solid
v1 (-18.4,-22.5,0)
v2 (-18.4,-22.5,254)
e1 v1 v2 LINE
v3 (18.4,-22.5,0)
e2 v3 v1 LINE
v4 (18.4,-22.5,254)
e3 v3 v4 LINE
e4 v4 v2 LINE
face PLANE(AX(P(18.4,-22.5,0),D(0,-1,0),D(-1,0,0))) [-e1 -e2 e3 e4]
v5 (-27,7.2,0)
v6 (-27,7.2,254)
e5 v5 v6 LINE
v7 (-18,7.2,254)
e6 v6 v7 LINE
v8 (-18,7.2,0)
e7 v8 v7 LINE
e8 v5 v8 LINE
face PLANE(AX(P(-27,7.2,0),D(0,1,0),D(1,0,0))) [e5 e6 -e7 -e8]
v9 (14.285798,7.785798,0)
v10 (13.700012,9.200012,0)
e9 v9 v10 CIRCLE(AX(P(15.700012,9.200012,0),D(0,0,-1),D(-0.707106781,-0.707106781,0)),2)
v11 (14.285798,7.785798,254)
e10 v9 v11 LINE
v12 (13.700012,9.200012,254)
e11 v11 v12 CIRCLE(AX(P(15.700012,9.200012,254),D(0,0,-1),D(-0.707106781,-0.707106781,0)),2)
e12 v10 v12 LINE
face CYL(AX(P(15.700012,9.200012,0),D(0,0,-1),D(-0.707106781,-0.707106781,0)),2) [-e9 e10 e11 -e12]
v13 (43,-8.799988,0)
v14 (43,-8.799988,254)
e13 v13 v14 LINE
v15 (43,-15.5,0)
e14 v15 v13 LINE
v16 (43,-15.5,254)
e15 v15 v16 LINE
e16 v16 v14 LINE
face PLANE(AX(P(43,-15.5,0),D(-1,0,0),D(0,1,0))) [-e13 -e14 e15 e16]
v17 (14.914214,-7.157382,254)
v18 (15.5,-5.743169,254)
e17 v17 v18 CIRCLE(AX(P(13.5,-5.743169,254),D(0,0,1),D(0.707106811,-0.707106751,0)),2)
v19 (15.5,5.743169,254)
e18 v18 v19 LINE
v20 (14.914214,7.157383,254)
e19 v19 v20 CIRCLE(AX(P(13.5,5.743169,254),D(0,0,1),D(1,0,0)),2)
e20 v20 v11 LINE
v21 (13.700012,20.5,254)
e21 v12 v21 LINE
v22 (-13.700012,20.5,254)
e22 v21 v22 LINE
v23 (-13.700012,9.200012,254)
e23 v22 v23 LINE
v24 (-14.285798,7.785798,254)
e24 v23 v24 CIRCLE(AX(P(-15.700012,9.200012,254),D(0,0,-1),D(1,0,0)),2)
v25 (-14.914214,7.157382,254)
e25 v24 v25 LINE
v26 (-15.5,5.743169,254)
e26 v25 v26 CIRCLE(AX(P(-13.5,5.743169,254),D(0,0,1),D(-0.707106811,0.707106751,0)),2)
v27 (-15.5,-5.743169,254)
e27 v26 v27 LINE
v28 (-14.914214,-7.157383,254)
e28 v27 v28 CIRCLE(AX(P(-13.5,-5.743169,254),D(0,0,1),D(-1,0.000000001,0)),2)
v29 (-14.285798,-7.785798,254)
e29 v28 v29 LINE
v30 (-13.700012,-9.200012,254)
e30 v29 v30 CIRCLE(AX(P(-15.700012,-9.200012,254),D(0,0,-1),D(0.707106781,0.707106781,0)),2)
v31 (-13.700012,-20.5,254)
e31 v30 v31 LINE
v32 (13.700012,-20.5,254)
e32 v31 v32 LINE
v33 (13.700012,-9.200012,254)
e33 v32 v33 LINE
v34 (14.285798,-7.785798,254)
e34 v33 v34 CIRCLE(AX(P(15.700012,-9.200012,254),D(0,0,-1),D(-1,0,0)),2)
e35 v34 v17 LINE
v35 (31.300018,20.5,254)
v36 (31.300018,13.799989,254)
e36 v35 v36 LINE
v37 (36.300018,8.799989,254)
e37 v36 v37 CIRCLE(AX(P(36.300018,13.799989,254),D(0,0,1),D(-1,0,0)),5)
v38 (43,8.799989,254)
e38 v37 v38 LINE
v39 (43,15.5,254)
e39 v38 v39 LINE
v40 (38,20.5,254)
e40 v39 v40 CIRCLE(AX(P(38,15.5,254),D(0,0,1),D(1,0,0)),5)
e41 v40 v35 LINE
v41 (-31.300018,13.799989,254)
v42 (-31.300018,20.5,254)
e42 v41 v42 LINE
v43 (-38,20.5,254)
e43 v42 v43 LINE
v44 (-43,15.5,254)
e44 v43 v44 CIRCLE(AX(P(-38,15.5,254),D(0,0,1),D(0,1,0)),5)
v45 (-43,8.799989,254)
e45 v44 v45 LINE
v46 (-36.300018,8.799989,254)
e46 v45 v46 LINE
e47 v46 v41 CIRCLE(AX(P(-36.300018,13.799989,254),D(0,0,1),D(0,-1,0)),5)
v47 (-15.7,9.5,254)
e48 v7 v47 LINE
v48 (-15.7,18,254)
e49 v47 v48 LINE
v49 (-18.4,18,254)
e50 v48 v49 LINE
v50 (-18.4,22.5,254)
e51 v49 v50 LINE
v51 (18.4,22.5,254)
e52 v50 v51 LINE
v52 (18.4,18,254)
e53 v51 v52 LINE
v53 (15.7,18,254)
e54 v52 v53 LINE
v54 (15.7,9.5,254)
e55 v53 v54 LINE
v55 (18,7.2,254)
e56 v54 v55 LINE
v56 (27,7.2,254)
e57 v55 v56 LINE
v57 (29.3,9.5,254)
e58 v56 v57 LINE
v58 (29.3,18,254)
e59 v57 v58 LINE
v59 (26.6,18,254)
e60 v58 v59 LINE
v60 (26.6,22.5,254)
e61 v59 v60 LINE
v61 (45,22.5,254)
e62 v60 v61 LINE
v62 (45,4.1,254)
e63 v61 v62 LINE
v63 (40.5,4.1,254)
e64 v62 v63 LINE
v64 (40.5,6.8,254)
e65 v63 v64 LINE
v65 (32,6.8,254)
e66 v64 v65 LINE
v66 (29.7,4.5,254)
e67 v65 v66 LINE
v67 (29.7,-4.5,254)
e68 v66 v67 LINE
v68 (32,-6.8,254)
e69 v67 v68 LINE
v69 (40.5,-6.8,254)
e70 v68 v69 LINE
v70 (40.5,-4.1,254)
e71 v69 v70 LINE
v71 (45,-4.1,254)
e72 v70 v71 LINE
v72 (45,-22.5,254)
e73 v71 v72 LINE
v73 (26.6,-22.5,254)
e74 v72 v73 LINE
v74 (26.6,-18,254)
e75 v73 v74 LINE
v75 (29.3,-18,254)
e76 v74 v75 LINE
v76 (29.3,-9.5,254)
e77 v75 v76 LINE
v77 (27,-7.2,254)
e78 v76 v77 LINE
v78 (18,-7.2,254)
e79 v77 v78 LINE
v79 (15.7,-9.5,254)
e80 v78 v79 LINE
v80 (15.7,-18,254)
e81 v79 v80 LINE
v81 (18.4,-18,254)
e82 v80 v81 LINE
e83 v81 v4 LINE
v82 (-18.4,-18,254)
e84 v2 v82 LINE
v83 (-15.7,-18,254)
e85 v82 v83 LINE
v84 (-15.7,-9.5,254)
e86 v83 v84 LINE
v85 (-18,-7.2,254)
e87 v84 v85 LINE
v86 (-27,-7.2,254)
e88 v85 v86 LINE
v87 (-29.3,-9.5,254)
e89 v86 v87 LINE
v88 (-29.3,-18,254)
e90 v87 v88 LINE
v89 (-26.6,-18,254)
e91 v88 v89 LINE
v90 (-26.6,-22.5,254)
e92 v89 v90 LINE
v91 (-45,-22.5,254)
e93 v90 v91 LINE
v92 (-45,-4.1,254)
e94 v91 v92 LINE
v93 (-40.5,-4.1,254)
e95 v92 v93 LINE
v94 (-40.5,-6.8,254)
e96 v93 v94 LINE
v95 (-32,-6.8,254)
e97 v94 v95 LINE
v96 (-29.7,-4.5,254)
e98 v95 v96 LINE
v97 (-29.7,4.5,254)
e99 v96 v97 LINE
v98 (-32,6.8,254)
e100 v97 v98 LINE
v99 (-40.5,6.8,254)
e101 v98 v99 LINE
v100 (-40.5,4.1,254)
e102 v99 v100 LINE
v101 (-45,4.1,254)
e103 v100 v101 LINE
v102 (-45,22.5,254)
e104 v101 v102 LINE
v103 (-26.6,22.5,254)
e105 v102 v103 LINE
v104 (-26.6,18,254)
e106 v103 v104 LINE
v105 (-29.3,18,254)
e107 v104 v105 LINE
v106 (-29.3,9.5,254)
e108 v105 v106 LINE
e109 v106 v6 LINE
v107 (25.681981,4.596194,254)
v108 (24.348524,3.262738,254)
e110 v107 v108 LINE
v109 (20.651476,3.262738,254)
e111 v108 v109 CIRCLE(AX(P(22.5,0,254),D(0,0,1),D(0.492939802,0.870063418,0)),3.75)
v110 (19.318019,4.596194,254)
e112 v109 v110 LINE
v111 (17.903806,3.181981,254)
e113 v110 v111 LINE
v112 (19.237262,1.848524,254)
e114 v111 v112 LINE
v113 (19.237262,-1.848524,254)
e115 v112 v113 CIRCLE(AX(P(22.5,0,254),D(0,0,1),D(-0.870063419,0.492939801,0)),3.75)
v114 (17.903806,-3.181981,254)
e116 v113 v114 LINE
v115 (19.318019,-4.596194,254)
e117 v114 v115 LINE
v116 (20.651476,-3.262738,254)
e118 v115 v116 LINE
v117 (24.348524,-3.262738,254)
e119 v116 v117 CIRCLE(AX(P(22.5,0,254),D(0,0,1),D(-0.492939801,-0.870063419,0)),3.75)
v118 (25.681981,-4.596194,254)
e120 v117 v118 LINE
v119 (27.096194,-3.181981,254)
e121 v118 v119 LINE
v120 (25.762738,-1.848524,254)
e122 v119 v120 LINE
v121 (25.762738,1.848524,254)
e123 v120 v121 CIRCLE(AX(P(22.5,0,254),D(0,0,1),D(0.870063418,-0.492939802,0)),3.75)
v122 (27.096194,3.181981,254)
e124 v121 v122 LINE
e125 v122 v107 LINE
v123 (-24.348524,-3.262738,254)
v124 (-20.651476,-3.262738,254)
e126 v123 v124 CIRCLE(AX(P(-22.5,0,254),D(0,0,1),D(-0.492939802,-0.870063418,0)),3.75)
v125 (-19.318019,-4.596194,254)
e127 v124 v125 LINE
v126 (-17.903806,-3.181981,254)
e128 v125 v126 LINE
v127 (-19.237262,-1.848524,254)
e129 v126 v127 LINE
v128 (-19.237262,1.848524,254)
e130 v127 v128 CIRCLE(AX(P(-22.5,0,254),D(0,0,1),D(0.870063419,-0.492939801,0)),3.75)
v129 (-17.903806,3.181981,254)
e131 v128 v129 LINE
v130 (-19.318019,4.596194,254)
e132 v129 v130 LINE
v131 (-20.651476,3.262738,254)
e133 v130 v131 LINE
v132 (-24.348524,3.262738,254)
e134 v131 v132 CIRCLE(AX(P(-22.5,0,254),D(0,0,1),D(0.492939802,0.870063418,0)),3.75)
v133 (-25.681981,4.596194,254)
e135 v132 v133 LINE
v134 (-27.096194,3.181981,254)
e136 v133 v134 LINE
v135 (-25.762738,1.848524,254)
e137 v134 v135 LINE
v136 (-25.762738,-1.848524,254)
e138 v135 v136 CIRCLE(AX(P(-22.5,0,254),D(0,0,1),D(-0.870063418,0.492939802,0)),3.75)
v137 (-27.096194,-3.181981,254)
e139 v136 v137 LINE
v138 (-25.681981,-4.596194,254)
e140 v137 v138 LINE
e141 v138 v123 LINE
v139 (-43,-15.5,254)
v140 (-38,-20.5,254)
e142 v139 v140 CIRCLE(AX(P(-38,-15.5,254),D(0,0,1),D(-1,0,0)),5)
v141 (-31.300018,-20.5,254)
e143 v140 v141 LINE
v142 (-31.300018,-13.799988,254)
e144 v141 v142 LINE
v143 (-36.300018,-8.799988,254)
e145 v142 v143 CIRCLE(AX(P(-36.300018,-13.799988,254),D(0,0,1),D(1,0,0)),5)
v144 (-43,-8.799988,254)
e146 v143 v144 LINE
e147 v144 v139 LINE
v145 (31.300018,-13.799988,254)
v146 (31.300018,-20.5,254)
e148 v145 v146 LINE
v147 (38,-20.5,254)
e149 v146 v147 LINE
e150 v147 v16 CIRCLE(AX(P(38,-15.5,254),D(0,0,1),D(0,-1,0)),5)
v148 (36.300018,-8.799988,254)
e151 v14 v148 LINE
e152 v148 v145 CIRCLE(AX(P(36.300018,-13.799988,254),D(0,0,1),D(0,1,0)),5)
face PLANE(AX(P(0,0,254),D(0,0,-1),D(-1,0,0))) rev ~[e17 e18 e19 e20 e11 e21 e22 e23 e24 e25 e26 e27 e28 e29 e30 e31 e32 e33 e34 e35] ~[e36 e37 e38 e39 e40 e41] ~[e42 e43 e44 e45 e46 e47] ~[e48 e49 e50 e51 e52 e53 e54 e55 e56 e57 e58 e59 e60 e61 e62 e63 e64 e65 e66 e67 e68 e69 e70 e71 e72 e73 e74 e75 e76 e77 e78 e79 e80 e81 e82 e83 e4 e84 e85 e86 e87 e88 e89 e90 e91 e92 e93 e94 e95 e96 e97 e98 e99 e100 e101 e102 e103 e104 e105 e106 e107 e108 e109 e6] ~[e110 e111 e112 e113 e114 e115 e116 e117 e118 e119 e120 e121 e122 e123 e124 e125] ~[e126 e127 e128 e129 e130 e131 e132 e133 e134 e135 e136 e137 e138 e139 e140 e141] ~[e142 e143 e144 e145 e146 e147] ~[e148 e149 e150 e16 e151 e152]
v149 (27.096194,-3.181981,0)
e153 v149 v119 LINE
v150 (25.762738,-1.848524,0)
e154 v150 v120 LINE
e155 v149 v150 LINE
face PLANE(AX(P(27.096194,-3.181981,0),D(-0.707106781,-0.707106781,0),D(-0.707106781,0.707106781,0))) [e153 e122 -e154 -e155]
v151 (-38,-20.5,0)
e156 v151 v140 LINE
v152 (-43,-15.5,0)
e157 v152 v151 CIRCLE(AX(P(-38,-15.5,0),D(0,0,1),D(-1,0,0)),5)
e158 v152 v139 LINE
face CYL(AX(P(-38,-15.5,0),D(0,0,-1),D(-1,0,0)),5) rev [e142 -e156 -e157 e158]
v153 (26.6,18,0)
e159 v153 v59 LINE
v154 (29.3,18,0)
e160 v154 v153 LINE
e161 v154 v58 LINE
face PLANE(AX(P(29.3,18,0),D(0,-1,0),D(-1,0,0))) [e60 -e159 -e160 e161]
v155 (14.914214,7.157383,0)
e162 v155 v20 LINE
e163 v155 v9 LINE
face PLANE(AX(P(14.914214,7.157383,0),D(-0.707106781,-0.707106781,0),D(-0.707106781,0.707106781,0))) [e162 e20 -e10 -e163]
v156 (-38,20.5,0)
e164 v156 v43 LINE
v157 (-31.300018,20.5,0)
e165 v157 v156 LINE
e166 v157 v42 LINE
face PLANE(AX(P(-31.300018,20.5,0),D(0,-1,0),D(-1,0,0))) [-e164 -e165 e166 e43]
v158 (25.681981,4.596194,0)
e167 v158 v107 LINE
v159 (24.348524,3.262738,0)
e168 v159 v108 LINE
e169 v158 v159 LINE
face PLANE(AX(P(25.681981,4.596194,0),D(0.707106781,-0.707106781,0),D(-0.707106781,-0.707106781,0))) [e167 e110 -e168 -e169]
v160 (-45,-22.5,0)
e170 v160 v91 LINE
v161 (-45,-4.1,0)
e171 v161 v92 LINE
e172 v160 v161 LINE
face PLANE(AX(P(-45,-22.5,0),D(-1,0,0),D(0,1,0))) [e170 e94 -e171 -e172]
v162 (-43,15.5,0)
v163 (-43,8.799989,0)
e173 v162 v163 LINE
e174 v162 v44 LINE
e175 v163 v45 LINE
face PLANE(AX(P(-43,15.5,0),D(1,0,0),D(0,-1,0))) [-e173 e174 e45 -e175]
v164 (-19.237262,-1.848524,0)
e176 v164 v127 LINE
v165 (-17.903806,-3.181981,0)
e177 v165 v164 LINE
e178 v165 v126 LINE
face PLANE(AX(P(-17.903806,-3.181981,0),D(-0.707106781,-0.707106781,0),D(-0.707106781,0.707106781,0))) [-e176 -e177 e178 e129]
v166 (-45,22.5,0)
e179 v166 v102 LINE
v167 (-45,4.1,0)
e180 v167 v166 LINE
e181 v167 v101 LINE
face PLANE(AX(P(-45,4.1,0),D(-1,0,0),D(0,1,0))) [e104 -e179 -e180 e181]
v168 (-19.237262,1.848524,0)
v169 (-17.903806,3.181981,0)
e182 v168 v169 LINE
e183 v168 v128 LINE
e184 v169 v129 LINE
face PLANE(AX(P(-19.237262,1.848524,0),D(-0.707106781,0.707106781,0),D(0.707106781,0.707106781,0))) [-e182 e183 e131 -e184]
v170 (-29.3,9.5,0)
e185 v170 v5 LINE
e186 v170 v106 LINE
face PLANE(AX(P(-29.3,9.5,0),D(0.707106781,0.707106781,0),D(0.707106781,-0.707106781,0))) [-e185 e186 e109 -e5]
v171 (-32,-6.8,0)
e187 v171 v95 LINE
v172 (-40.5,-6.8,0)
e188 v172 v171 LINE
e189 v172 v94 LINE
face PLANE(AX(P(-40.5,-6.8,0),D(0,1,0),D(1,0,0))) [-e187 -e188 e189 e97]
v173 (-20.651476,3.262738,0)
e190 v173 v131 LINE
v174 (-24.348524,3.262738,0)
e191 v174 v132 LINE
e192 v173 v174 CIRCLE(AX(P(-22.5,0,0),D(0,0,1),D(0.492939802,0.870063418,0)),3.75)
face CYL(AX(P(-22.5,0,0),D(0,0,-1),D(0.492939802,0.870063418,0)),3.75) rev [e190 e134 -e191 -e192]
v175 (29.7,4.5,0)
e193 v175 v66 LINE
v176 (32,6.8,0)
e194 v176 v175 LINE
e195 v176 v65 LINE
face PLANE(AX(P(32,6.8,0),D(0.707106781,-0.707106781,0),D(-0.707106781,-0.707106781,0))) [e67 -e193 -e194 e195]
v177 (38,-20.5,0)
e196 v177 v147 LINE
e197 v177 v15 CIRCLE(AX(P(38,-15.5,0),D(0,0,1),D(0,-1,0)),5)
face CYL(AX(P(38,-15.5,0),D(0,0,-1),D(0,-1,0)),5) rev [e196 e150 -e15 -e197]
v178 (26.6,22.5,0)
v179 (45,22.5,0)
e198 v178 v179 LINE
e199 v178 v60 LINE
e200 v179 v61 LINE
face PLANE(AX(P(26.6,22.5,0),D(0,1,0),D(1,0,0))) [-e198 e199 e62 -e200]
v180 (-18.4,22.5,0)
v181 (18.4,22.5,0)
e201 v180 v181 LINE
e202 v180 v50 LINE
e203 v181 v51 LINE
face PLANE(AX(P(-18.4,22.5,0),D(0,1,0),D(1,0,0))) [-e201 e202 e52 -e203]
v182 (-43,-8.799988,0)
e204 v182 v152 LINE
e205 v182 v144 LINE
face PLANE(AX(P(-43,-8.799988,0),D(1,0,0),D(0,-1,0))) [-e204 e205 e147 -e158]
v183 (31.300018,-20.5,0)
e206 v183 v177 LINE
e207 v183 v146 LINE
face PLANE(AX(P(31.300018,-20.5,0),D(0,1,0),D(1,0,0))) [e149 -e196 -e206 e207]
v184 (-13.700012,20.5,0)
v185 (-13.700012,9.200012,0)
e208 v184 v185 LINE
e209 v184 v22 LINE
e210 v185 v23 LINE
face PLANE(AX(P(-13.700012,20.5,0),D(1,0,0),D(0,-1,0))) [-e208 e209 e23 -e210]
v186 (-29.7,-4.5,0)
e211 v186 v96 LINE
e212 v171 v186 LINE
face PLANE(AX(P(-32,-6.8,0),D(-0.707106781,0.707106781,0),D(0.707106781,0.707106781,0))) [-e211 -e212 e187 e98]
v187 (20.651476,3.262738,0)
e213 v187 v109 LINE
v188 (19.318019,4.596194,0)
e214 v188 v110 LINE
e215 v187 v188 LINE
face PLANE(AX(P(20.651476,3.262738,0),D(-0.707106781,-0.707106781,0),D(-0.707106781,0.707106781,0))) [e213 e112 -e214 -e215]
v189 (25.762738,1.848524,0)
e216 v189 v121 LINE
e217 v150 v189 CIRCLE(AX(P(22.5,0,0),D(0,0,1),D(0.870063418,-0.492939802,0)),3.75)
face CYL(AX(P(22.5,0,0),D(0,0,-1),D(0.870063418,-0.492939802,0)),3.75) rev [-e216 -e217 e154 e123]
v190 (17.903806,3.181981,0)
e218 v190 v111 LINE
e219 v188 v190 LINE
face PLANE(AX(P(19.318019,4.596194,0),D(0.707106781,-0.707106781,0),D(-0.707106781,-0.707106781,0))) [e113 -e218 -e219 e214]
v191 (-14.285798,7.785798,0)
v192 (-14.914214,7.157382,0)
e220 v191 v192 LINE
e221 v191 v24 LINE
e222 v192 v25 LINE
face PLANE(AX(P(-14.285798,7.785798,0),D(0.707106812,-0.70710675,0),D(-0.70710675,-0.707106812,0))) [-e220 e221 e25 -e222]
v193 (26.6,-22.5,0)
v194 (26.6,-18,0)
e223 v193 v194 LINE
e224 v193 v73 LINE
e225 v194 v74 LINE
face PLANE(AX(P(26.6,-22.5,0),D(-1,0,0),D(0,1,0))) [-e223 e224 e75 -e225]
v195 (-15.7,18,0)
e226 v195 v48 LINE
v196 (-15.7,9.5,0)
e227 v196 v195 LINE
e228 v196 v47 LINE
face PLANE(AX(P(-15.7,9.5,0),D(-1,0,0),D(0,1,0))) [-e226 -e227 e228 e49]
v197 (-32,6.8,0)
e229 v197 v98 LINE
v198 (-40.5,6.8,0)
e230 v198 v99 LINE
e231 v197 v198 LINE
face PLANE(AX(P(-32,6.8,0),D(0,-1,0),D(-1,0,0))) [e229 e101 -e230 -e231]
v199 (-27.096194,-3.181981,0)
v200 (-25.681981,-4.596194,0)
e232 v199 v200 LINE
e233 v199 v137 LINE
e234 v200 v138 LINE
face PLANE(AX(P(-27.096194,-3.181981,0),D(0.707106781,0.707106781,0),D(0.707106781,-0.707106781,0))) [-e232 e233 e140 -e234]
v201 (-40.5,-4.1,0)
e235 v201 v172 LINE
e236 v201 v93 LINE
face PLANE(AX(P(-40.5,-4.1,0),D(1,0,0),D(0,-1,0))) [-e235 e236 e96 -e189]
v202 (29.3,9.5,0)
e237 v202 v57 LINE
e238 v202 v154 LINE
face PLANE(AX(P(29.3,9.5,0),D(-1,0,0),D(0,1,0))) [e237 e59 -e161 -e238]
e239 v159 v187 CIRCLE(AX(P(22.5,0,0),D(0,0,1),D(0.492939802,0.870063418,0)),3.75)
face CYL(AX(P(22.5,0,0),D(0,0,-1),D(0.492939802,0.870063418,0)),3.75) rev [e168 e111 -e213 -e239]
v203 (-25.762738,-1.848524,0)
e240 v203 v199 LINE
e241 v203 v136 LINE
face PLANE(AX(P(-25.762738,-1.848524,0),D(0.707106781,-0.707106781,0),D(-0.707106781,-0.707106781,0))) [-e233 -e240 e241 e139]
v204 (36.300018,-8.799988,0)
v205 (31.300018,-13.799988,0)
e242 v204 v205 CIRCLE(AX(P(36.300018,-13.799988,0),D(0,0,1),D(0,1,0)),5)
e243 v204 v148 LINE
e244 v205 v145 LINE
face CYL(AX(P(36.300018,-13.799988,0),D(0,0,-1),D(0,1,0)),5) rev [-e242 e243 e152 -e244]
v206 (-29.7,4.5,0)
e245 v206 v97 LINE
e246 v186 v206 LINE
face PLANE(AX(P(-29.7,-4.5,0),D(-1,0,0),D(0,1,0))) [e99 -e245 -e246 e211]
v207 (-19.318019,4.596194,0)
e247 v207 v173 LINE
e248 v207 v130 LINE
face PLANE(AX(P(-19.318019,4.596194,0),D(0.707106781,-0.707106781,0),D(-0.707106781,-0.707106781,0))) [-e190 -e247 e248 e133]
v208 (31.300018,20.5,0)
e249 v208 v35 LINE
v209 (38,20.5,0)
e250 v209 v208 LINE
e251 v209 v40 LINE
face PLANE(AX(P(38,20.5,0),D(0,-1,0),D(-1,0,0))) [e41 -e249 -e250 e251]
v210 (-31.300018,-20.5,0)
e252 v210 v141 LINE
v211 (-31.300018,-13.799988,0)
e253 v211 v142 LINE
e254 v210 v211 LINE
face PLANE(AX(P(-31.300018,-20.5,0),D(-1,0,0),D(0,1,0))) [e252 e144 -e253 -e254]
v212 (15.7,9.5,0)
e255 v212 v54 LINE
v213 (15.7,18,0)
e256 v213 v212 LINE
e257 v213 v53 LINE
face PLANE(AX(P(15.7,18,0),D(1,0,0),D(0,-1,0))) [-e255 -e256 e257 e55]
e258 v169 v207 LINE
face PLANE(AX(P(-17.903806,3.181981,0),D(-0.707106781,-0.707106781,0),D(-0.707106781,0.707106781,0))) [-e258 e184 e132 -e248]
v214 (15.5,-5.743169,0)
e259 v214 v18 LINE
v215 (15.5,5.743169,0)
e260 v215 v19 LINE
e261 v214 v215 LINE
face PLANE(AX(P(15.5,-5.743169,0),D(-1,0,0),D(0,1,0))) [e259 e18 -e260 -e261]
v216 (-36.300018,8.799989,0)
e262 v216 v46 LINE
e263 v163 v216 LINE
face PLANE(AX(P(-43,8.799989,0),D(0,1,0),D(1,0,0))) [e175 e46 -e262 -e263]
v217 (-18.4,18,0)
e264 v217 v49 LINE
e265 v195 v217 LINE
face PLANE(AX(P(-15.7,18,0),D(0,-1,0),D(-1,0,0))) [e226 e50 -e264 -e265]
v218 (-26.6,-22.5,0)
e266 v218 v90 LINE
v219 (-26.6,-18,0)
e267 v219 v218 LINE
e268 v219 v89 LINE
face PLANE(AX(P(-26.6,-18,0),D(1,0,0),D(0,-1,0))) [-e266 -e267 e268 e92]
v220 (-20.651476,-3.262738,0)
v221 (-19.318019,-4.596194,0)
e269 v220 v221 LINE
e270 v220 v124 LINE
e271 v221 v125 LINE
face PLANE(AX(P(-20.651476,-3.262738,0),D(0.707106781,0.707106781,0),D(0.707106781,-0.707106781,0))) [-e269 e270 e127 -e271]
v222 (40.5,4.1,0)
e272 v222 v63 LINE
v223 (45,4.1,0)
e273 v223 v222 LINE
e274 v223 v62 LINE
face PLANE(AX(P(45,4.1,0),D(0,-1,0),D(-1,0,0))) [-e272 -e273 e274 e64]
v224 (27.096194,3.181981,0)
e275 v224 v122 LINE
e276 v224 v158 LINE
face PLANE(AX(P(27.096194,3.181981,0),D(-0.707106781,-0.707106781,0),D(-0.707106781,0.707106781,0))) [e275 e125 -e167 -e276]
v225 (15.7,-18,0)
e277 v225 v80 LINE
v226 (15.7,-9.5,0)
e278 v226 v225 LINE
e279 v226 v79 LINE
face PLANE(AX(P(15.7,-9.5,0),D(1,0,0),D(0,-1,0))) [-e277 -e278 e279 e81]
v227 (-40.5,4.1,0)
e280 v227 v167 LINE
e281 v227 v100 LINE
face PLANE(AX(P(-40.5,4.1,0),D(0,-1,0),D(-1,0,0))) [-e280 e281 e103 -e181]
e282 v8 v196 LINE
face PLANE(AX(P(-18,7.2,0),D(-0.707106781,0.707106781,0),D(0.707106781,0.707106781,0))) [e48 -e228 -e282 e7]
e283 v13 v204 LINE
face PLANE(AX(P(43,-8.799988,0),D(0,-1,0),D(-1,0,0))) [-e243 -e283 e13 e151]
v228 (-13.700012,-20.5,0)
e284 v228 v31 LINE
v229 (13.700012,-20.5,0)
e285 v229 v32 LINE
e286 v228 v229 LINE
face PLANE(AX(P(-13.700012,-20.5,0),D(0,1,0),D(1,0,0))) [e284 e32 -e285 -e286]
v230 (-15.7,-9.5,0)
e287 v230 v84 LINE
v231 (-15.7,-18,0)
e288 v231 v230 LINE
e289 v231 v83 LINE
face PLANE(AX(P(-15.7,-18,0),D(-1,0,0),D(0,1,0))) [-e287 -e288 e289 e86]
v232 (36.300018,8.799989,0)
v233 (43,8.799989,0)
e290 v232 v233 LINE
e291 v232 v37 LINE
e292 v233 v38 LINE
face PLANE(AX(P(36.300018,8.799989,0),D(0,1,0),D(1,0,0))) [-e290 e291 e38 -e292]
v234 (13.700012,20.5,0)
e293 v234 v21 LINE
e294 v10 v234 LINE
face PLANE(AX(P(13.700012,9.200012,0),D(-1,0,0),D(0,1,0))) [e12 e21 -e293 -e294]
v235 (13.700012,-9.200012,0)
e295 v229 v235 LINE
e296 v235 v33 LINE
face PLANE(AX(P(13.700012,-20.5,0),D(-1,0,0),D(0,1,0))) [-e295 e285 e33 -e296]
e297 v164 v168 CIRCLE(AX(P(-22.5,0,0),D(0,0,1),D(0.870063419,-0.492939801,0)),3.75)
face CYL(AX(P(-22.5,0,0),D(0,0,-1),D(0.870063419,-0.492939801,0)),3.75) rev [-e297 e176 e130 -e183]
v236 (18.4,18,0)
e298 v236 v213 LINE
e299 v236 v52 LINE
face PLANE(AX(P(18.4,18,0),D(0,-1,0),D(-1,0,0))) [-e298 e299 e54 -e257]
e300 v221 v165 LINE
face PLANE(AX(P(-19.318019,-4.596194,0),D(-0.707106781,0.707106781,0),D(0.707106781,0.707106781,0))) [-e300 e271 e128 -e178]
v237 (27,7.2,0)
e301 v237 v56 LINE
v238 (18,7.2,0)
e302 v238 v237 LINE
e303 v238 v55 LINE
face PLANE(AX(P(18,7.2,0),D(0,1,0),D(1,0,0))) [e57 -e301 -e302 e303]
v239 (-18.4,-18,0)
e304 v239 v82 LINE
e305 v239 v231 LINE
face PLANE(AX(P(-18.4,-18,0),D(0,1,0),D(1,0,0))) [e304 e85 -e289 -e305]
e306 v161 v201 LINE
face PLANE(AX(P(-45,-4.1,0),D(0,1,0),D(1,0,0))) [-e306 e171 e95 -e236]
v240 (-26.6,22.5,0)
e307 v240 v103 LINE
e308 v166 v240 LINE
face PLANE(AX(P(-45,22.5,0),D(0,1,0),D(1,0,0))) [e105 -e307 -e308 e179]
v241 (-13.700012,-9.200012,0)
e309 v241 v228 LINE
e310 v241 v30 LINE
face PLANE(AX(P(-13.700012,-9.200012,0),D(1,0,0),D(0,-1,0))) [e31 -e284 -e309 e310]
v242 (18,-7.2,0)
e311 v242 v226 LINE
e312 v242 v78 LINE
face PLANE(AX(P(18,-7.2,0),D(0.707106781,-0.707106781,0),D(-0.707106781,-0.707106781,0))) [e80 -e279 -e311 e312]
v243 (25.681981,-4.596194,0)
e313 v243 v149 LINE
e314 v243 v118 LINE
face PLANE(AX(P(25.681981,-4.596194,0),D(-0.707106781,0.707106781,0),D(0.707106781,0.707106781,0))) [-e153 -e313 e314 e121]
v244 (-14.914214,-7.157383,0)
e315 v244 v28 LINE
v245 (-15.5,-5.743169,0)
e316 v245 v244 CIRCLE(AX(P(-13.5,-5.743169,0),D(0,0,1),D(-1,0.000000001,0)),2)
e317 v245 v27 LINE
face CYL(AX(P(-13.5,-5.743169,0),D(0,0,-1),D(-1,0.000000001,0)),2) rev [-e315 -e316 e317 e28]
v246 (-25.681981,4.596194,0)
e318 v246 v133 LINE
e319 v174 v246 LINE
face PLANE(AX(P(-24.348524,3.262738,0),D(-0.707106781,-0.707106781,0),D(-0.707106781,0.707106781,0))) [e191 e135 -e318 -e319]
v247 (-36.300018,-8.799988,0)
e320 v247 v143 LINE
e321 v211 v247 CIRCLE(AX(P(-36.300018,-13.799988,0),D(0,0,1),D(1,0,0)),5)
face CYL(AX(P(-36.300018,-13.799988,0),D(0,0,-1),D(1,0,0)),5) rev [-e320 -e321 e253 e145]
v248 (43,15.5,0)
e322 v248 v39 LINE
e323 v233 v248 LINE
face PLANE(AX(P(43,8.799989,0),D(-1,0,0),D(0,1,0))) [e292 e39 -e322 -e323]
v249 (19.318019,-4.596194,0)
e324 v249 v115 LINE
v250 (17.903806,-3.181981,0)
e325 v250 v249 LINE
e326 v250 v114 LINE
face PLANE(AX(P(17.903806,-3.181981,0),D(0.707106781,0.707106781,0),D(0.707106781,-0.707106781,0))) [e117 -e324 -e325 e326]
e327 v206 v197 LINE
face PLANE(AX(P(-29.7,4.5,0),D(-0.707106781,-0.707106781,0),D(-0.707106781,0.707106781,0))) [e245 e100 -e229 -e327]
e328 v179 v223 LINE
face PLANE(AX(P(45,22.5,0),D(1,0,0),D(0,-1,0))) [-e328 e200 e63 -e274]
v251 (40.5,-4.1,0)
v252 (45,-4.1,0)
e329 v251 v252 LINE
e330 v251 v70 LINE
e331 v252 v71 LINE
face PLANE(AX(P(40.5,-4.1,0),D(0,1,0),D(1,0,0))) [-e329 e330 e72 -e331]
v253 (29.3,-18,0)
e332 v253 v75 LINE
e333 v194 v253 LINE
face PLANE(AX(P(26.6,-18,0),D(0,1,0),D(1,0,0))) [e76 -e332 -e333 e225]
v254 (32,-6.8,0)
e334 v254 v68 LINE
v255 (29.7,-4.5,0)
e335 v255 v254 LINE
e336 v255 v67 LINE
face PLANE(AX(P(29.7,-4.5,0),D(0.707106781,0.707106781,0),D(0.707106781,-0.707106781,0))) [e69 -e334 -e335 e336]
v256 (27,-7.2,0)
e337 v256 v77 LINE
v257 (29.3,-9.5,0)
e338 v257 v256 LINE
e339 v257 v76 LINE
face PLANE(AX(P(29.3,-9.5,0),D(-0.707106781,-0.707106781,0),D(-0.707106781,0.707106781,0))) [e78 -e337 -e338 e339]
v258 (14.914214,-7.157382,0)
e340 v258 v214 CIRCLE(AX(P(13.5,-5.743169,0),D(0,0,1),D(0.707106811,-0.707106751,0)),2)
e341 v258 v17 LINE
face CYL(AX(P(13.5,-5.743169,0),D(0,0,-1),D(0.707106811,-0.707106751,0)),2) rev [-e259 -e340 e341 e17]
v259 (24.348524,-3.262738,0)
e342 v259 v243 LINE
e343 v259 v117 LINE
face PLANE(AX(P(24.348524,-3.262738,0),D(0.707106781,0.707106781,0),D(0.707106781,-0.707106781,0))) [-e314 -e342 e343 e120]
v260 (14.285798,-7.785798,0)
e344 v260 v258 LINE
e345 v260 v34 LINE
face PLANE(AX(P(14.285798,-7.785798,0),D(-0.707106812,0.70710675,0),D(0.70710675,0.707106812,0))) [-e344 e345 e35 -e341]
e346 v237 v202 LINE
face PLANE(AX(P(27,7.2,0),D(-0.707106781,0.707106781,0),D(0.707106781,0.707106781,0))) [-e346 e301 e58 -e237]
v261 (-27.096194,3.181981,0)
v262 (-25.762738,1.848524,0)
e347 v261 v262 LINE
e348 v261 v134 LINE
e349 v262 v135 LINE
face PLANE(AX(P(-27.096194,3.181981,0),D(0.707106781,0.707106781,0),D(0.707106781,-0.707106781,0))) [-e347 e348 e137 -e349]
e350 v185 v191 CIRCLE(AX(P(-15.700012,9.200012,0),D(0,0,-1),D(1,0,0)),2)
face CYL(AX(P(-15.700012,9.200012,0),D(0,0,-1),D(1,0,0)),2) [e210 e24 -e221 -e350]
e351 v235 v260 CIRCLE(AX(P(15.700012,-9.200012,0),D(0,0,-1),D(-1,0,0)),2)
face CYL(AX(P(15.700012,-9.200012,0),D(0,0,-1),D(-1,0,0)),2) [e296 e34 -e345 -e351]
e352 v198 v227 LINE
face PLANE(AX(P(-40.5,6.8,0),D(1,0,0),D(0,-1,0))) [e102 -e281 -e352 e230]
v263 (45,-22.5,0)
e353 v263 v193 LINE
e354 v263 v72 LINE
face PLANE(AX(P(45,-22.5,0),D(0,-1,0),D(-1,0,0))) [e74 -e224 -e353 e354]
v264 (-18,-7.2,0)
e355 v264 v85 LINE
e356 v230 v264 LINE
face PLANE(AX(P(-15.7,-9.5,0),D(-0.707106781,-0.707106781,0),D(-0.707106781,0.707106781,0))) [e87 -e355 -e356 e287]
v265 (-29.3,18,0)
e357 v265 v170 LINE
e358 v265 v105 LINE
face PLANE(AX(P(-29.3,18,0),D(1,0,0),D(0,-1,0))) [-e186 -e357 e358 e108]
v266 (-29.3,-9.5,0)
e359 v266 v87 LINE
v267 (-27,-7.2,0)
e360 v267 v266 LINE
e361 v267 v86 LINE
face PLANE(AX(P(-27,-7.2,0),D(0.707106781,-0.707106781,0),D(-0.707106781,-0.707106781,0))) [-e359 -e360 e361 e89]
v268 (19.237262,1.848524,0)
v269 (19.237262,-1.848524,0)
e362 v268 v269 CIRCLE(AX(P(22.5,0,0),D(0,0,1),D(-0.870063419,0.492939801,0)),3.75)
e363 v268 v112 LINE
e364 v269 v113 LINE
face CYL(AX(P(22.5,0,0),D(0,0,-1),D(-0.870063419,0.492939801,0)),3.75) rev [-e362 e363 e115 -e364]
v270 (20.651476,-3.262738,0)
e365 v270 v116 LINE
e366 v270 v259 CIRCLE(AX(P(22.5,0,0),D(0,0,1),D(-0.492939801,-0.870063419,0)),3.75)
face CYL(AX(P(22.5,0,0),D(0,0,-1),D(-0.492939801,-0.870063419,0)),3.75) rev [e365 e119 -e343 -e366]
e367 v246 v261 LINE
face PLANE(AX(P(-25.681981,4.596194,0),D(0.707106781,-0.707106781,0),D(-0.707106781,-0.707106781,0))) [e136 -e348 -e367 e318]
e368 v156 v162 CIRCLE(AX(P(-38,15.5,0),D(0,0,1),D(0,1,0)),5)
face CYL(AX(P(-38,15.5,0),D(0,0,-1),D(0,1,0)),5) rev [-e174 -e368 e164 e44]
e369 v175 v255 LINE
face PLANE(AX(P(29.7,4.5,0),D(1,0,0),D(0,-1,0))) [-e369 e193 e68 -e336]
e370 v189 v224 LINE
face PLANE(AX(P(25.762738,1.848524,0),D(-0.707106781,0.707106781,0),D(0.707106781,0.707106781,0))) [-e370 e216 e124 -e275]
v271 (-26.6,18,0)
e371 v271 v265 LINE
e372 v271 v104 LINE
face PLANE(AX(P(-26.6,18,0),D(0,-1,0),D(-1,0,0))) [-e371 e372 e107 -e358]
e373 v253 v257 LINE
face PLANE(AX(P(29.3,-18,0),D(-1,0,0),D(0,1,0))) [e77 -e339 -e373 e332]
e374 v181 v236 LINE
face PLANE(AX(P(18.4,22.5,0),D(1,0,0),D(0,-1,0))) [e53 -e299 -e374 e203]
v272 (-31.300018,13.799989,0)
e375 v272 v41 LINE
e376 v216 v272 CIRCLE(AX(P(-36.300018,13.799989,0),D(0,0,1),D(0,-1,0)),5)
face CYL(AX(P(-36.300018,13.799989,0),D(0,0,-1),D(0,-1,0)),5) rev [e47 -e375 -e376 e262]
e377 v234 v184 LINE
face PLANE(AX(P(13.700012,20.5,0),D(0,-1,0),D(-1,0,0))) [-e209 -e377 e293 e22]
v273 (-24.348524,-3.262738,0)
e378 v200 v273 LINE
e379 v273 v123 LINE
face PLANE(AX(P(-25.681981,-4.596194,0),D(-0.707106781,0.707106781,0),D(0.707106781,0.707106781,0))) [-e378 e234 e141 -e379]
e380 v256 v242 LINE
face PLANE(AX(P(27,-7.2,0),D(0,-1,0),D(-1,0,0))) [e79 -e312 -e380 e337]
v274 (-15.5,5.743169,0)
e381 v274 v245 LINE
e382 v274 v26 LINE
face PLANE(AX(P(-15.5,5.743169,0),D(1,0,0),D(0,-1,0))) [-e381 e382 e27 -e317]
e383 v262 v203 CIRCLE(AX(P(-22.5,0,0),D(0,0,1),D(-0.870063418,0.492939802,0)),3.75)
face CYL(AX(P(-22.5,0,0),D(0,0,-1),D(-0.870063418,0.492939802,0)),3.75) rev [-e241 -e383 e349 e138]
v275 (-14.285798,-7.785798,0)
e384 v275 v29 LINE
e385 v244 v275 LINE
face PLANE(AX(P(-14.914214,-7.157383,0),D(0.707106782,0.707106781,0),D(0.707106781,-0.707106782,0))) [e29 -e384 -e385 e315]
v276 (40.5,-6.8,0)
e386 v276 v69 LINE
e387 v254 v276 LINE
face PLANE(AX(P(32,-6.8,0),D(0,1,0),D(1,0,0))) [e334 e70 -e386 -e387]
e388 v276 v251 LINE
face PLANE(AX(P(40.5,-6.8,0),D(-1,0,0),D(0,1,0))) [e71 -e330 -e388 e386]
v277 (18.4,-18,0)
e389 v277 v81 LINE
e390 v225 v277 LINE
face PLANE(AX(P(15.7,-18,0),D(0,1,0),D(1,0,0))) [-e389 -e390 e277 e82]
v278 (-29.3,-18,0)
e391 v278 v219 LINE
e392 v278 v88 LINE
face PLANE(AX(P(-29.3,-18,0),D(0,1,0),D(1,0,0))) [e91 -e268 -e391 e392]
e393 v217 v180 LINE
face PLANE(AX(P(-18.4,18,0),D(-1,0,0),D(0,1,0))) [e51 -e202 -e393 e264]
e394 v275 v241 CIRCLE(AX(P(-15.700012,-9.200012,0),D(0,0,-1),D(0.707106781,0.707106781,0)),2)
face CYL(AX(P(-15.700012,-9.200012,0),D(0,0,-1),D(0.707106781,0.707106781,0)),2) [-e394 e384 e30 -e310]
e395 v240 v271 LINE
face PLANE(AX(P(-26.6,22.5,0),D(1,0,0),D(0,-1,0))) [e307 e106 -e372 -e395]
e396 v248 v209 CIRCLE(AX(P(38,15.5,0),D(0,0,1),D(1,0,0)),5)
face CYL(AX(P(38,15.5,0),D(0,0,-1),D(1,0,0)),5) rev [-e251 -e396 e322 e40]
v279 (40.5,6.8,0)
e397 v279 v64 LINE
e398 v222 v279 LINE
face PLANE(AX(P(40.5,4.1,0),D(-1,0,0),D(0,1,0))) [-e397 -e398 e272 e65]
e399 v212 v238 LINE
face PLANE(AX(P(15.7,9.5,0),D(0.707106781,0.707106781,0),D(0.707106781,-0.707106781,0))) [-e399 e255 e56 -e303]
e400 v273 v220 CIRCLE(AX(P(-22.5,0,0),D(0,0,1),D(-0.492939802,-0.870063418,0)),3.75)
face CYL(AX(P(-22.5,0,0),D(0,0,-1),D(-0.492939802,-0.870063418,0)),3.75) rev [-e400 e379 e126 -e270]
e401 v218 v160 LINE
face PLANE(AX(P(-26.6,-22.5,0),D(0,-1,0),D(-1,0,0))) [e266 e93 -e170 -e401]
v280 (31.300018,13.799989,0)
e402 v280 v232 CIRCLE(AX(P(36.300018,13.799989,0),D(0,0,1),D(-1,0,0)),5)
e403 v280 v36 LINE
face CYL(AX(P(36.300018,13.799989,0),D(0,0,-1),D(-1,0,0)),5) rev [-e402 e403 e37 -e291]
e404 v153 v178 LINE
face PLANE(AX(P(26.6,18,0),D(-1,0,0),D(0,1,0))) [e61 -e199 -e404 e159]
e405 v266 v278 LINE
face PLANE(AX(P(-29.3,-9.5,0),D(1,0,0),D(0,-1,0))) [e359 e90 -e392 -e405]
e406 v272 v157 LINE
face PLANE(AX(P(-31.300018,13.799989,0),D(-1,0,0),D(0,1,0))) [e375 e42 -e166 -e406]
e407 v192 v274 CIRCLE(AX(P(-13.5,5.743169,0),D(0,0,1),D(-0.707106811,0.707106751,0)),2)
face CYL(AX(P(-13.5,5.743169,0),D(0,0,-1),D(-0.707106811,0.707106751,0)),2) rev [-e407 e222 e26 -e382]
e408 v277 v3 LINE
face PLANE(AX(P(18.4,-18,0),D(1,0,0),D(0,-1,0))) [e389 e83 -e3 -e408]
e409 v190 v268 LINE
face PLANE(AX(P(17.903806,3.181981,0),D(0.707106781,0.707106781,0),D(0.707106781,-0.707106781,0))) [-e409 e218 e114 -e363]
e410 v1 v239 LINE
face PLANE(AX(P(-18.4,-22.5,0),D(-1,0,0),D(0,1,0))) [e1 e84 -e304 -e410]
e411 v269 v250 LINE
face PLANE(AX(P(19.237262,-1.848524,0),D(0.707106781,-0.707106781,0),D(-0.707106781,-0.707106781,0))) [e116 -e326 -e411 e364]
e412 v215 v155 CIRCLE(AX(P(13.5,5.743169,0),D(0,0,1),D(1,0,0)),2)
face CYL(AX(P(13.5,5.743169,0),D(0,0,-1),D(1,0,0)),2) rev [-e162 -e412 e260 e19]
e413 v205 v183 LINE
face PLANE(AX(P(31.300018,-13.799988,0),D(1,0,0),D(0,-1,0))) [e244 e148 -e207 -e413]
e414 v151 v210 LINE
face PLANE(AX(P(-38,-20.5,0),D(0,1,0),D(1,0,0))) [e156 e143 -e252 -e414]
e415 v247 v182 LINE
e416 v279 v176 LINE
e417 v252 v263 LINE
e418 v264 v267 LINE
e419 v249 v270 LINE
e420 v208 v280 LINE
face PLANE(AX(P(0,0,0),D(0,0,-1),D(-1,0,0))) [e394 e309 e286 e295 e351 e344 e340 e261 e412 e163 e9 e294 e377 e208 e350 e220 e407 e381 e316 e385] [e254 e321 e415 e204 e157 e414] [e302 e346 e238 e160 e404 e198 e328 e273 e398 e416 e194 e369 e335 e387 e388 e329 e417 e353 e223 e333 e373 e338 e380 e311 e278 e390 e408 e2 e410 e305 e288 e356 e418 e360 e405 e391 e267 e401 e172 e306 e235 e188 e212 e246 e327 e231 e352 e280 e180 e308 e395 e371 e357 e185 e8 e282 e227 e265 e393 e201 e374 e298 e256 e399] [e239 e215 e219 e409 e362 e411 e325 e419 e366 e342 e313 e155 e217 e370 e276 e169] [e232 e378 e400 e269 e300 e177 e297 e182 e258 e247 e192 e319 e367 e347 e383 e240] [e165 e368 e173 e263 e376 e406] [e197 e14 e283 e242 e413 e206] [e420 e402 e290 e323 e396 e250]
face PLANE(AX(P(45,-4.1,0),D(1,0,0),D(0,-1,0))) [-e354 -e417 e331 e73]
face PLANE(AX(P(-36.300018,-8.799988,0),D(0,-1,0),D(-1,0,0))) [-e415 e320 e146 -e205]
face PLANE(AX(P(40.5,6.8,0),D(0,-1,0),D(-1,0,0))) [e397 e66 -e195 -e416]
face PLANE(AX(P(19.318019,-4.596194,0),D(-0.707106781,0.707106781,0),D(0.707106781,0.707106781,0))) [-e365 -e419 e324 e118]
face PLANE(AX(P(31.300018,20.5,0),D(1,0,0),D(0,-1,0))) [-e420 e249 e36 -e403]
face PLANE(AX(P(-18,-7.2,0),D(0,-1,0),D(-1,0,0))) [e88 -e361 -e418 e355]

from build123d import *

# Parameters (mm, degrees)
BOSS_EXTRUDE1_DEPTH = 254


with BuildPart() as part:
    # Sketch1 → Boss-Extrude1 (new body)
    with BuildSketch(Plane(origin=(0, 0, 0), x_dir=(-1, 0, 0), z_dir=(0, 0, -1))):
        Polygon((-26.6, 22.5), (-45, 22.5), (-45, 4.1), (-40.5, 4.1), (-40.5, 6.8), (-32, 6.8), (-29.7, 4.5), (-29.7, -4.5), (-32, -6.8), (-40.5, -6.8), (-40.5, -4.1), (-45, -4.1), (-45, -22.5), (-26.6, -22.5), (-26.6, -18), (-29.3, -18), (-29.3, -9.5), (-27, -7.2), (-18, -7.2), (-15.7, -9.5), (-15.7, -18), (-18.4, -18), (-18.4, -22.5), (18.4, -22.5), (18.4, -18), (15.7, -18), (15.7, -9.5), (18, -7.2), (27, -7.2), (29.3, -9.5), (29.3, -18), (26.6, -18), (26.6, -22.5), (45, -22.5), (45, -4.1), (40.5, -4.1), (40.5, -6.8), (32, -6.8), (29.7, -4.5), (29.7, 4.5), (32, 6.8), (40.5, 6.8), (40.5, 4.1), (45, 4.1), (45, 22.5), (26.6, 22.5), (26.6, 18), (29.3, 18), (29.3, 9.5), (27, 7.2), (18, 7.2), (15.7, 9.5), (15.7, 18), (18.4, 18), (18.4, 22.5), (-18.4, 22.5), (-18.4, 18), (-15.7, 18), (-15.7, 9.5), (-18, 7.2), (-27, 7.2), (-29.3, 9.5), (-29.3, 18), (-26.6, 18), align=None)
        with BuildLine():
            Line((14.914213713, -7.157382523), (14.285798144, -7.785798093))
            ThreePointArc((14.285798144, -7.785798093), (13.852252641, -8.434644791), (13.700011706, -9.200011655))
            Line((13.700011706, -9.200011655), (13.700011706, -20.5))
            Line((13.700011706, -20.5), (-13.700011706, -20.5))
            Line((-13.700011706, -20.5), (-13.700011706, -9.200011568))
            ThreePointArc((-13.700011706, -9.200011568), (-13.852252624, -8.434644744), (-14.285798082, -7.785798067))
            Line((-14.285798082, -7.785798067), (-14.914213624, -7.15738247))
            ThreePointArc((-14.914213624, -7.15738247), (-15.347759082, -6.508535794), (-15.5, -5.74316897))
            Line((-15.5, -5.74316897), (-15.5, 5.7431692))
            ThreePointArc((-15.5, 5.7431692), (-15.347759065, 6.508536064), (-14.914213562, 7.157382762))
            Line((-14.914213562, 7.157382762), (-14.285798144, 7.78579818))
            ThreePointArc((-14.285798144, 7.78579818), (-13.852252641, 8.434644878), (-13.700011706, 9.200011743))
            Line((-13.700011706, 9.200011743), (-13.700011706, 20.5))
            Line((-13.700011706, 20.5), (13.700011706, 20.5))
            Line((13.700011706, 20.5), (13.700011706, 9.200011728))
            ThreePointArc((13.700011706, 9.200011728), (13.852252624, 8.434644904), (14.285798082, 7.785798227))
            Line((14.285798082, 7.785798227), (14.914213775, 7.157382479))
            ThreePointArc((14.914213775, 7.157382479), (15.347759233, 6.508535803), (15.500000151, 5.743168979))
            Line((15.500000151, 5.743168979), (15.500000151, -5.743168961))
            ThreePointArc((15.500000151, -5.743168961), (15.347759216, -6.508535826), (14.914213713, -7.157382523))
        make_face(mode=Mode.SUBTRACT)
        with BuildLine():
            Line((43, 15.5), (43, 8.799988823))
            Line((43, 8.799988823), (36.300017792, 8.799988823))
            ThreePointArc((36.300017792, 8.799988823), (32.764483886, 10.264454917), (31.300017792, 13.799988823))
            Line((31.300017792, 13.799988823), (31.300017792, 20.5))
            Line((31.300017792, 20.5), (38, 20.5))
            ThreePointArc((38, 20.5), (41.535533906, 19.035533906), (43, 15.5))
        make_face(mode=Mode.SUBTRACT)
        with BuildLine():
            Line((-36.300017792, 8.799988823), (-43, 8.799988823))
            Line((-43, 8.799988823), (-43, 15.5))
            ThreePointArc((-43, 15.5), (-41.535533906, 19.035533906), (-38, 20.5))
            Line((-38, 20.5), (-31.300017792, 20.5))
            Line((-31.300017792, 20.5), (-31.300017792, 13.799988823))
            ThreePointArc((-31.300017792, 13.799988823), (-32.764483886, 10.264454917), (-36.300017792, 8.799988823))
        make_face(mode=Mode.SUBTRACT)
        with BuildLine():
            Line((-43, -15.5), (-43, -8.7999878))
            Line((-43, -8.7999878), (-36.300017792, -8.7999878))
            ThreePointArc((-36.300017792, -8.7999878), (-32.764483886, -10.264453894), (-31.300017792, -13.7999878))
            Line((-31.300017792, -13.7999878), (-31.300017792, -20.5))
            Line((-31.300017792, -20.5), (-38, -20.5))
            ThreePointArc((-38, -20.5), (-41.535533906, -19.035533906), (-43, -15.5))
        make_face(mode=Mode.SUBTRACT)
        with BuildLine():
            Line((36.300017792, -8.7999878), (43, -8.7999878))
            Line((43, -8.7999878), (43, -15.5))
            ThreePointArc((43, -15.5), (41.535533906, -19.035533906), (38, -20.5))
            Line((38, -20.5), (31.300017792, -20.5))
            Line((31.300017792, -20.5), (31.300017792, -13.7999878))
            ThreePointArc((31.300017792, -13.7999878), (32.764483886, -10.264453894), (36.300017792, -8.7999878))
        make_face(mode=Mode.SUBTRACT)
        with BuildLine():
            Line((-20.651475745, 3.262737818), (-19.318019484, 4.59619408))
            Line((-19.318019484, 4.59619408), (-17.903805921, 3.181980517))
            Line((-17.903805921, 3.181980517), (-19.237262182, 1.848524255))
            ThreePointArc((-19.237262182, 1.848524255), (-18.750000002, 0), (-19.237262183, -1.848524255))
            Line((-19.237262183, -1.848524255), (-17.903805921, -3.181980517))
            Line((-17.903805921, -3.181980517), (-19.318019483, -4.596194079))
            Line((-19.318019483, -4.596194079), (-20.651475745, -3.262737818))
            ThreePointArc((-20.651475745, -3.262737818), (-22.5, -3.749999998), (-24.348524255, -3.262737818))
            Line((-24.348524255, -3.262737818), (-25.681980515, -4.596194078))
            Line((-25.681980515, -4.596194078), (-27.096194078, -3.181980516))
            Line((-27.096194078, -3.181980516), (-25.762737818, -1.848524255))
            ThreePointArc((-25.762737818, -1.848524255), (-26.249999999, 0), (-25.762737818, 1.848524255))
            Line((-25.762737818, 1.848524255), (-27.096194079, 3.181980517))
            Line((-27.096194079, 3.181980517), (-25.681980517, 4.596194079))
            Line((-25.681980517, 4.596194079), (-24.348524255, 3.262737818))
            ThreePointArc((-24.348524255, 3.262737818), (-22.5, 3.749999999), (-20.651475745, 3.262737818))
        make_face(mode=Mode.SUBTRACT)
        with BuildLine():
            Line((27.096194079, 3.181980516), (25.762737818, 1.848524255))
            ThreePointArc((25.762737818, 1.848524255), (26.249999999, 0), (25.762737818, -1.848524255))
            Line((25.762737818, -1.848524255), (27.09619408, -3.181980517))
            Line((27.09619408, -3.181980517), (25.681980518, -4.596194079))
            Line((25.681980518, -4.596194079), (24.348524256, -3.262737818))
            ThreePointArc((24.348524256, -3.262737818), (22.500000001, -3.749999999), (20.651475745, -3.262737818))
            Line((20.651475745, -3.262737818), (19.318019485, -4.596194078))
            Line((19.318019485, -4.596194078), (17.903805922, -3.181980515))
            Line((17.903805922, -3.181980515), (19.237262182, -1.848524255))
            ThreePointArc((19.237262182, -1.848524255), (18.750000002, 0), (19.237262182, 1.848524255))
            Line((19.237262182, 1.848524255), (17.903805921, 3.181980516))
            Line((17.903805921, 3.181980516), (19.318019483, 4.596194079))
            Line((19.318019483, 4.596194079), (20.651475745, 3.262737817))
            ThreePointArc((20.651475745, 3.262737817), (22.5, 3.749999998), (24.348524255, 3.262737818))
            Line((24.348524255, 3.262737818), (25.681980517, 4.596194079))
            Line((25.681980517, 4.596194079), (27.096194079, 3.181980516))
        make_face(mode=Mode.SUBTRACT)
    extrude(amount=-BOSS_EXTRUDE1_DEPTH)


solid = part.part
